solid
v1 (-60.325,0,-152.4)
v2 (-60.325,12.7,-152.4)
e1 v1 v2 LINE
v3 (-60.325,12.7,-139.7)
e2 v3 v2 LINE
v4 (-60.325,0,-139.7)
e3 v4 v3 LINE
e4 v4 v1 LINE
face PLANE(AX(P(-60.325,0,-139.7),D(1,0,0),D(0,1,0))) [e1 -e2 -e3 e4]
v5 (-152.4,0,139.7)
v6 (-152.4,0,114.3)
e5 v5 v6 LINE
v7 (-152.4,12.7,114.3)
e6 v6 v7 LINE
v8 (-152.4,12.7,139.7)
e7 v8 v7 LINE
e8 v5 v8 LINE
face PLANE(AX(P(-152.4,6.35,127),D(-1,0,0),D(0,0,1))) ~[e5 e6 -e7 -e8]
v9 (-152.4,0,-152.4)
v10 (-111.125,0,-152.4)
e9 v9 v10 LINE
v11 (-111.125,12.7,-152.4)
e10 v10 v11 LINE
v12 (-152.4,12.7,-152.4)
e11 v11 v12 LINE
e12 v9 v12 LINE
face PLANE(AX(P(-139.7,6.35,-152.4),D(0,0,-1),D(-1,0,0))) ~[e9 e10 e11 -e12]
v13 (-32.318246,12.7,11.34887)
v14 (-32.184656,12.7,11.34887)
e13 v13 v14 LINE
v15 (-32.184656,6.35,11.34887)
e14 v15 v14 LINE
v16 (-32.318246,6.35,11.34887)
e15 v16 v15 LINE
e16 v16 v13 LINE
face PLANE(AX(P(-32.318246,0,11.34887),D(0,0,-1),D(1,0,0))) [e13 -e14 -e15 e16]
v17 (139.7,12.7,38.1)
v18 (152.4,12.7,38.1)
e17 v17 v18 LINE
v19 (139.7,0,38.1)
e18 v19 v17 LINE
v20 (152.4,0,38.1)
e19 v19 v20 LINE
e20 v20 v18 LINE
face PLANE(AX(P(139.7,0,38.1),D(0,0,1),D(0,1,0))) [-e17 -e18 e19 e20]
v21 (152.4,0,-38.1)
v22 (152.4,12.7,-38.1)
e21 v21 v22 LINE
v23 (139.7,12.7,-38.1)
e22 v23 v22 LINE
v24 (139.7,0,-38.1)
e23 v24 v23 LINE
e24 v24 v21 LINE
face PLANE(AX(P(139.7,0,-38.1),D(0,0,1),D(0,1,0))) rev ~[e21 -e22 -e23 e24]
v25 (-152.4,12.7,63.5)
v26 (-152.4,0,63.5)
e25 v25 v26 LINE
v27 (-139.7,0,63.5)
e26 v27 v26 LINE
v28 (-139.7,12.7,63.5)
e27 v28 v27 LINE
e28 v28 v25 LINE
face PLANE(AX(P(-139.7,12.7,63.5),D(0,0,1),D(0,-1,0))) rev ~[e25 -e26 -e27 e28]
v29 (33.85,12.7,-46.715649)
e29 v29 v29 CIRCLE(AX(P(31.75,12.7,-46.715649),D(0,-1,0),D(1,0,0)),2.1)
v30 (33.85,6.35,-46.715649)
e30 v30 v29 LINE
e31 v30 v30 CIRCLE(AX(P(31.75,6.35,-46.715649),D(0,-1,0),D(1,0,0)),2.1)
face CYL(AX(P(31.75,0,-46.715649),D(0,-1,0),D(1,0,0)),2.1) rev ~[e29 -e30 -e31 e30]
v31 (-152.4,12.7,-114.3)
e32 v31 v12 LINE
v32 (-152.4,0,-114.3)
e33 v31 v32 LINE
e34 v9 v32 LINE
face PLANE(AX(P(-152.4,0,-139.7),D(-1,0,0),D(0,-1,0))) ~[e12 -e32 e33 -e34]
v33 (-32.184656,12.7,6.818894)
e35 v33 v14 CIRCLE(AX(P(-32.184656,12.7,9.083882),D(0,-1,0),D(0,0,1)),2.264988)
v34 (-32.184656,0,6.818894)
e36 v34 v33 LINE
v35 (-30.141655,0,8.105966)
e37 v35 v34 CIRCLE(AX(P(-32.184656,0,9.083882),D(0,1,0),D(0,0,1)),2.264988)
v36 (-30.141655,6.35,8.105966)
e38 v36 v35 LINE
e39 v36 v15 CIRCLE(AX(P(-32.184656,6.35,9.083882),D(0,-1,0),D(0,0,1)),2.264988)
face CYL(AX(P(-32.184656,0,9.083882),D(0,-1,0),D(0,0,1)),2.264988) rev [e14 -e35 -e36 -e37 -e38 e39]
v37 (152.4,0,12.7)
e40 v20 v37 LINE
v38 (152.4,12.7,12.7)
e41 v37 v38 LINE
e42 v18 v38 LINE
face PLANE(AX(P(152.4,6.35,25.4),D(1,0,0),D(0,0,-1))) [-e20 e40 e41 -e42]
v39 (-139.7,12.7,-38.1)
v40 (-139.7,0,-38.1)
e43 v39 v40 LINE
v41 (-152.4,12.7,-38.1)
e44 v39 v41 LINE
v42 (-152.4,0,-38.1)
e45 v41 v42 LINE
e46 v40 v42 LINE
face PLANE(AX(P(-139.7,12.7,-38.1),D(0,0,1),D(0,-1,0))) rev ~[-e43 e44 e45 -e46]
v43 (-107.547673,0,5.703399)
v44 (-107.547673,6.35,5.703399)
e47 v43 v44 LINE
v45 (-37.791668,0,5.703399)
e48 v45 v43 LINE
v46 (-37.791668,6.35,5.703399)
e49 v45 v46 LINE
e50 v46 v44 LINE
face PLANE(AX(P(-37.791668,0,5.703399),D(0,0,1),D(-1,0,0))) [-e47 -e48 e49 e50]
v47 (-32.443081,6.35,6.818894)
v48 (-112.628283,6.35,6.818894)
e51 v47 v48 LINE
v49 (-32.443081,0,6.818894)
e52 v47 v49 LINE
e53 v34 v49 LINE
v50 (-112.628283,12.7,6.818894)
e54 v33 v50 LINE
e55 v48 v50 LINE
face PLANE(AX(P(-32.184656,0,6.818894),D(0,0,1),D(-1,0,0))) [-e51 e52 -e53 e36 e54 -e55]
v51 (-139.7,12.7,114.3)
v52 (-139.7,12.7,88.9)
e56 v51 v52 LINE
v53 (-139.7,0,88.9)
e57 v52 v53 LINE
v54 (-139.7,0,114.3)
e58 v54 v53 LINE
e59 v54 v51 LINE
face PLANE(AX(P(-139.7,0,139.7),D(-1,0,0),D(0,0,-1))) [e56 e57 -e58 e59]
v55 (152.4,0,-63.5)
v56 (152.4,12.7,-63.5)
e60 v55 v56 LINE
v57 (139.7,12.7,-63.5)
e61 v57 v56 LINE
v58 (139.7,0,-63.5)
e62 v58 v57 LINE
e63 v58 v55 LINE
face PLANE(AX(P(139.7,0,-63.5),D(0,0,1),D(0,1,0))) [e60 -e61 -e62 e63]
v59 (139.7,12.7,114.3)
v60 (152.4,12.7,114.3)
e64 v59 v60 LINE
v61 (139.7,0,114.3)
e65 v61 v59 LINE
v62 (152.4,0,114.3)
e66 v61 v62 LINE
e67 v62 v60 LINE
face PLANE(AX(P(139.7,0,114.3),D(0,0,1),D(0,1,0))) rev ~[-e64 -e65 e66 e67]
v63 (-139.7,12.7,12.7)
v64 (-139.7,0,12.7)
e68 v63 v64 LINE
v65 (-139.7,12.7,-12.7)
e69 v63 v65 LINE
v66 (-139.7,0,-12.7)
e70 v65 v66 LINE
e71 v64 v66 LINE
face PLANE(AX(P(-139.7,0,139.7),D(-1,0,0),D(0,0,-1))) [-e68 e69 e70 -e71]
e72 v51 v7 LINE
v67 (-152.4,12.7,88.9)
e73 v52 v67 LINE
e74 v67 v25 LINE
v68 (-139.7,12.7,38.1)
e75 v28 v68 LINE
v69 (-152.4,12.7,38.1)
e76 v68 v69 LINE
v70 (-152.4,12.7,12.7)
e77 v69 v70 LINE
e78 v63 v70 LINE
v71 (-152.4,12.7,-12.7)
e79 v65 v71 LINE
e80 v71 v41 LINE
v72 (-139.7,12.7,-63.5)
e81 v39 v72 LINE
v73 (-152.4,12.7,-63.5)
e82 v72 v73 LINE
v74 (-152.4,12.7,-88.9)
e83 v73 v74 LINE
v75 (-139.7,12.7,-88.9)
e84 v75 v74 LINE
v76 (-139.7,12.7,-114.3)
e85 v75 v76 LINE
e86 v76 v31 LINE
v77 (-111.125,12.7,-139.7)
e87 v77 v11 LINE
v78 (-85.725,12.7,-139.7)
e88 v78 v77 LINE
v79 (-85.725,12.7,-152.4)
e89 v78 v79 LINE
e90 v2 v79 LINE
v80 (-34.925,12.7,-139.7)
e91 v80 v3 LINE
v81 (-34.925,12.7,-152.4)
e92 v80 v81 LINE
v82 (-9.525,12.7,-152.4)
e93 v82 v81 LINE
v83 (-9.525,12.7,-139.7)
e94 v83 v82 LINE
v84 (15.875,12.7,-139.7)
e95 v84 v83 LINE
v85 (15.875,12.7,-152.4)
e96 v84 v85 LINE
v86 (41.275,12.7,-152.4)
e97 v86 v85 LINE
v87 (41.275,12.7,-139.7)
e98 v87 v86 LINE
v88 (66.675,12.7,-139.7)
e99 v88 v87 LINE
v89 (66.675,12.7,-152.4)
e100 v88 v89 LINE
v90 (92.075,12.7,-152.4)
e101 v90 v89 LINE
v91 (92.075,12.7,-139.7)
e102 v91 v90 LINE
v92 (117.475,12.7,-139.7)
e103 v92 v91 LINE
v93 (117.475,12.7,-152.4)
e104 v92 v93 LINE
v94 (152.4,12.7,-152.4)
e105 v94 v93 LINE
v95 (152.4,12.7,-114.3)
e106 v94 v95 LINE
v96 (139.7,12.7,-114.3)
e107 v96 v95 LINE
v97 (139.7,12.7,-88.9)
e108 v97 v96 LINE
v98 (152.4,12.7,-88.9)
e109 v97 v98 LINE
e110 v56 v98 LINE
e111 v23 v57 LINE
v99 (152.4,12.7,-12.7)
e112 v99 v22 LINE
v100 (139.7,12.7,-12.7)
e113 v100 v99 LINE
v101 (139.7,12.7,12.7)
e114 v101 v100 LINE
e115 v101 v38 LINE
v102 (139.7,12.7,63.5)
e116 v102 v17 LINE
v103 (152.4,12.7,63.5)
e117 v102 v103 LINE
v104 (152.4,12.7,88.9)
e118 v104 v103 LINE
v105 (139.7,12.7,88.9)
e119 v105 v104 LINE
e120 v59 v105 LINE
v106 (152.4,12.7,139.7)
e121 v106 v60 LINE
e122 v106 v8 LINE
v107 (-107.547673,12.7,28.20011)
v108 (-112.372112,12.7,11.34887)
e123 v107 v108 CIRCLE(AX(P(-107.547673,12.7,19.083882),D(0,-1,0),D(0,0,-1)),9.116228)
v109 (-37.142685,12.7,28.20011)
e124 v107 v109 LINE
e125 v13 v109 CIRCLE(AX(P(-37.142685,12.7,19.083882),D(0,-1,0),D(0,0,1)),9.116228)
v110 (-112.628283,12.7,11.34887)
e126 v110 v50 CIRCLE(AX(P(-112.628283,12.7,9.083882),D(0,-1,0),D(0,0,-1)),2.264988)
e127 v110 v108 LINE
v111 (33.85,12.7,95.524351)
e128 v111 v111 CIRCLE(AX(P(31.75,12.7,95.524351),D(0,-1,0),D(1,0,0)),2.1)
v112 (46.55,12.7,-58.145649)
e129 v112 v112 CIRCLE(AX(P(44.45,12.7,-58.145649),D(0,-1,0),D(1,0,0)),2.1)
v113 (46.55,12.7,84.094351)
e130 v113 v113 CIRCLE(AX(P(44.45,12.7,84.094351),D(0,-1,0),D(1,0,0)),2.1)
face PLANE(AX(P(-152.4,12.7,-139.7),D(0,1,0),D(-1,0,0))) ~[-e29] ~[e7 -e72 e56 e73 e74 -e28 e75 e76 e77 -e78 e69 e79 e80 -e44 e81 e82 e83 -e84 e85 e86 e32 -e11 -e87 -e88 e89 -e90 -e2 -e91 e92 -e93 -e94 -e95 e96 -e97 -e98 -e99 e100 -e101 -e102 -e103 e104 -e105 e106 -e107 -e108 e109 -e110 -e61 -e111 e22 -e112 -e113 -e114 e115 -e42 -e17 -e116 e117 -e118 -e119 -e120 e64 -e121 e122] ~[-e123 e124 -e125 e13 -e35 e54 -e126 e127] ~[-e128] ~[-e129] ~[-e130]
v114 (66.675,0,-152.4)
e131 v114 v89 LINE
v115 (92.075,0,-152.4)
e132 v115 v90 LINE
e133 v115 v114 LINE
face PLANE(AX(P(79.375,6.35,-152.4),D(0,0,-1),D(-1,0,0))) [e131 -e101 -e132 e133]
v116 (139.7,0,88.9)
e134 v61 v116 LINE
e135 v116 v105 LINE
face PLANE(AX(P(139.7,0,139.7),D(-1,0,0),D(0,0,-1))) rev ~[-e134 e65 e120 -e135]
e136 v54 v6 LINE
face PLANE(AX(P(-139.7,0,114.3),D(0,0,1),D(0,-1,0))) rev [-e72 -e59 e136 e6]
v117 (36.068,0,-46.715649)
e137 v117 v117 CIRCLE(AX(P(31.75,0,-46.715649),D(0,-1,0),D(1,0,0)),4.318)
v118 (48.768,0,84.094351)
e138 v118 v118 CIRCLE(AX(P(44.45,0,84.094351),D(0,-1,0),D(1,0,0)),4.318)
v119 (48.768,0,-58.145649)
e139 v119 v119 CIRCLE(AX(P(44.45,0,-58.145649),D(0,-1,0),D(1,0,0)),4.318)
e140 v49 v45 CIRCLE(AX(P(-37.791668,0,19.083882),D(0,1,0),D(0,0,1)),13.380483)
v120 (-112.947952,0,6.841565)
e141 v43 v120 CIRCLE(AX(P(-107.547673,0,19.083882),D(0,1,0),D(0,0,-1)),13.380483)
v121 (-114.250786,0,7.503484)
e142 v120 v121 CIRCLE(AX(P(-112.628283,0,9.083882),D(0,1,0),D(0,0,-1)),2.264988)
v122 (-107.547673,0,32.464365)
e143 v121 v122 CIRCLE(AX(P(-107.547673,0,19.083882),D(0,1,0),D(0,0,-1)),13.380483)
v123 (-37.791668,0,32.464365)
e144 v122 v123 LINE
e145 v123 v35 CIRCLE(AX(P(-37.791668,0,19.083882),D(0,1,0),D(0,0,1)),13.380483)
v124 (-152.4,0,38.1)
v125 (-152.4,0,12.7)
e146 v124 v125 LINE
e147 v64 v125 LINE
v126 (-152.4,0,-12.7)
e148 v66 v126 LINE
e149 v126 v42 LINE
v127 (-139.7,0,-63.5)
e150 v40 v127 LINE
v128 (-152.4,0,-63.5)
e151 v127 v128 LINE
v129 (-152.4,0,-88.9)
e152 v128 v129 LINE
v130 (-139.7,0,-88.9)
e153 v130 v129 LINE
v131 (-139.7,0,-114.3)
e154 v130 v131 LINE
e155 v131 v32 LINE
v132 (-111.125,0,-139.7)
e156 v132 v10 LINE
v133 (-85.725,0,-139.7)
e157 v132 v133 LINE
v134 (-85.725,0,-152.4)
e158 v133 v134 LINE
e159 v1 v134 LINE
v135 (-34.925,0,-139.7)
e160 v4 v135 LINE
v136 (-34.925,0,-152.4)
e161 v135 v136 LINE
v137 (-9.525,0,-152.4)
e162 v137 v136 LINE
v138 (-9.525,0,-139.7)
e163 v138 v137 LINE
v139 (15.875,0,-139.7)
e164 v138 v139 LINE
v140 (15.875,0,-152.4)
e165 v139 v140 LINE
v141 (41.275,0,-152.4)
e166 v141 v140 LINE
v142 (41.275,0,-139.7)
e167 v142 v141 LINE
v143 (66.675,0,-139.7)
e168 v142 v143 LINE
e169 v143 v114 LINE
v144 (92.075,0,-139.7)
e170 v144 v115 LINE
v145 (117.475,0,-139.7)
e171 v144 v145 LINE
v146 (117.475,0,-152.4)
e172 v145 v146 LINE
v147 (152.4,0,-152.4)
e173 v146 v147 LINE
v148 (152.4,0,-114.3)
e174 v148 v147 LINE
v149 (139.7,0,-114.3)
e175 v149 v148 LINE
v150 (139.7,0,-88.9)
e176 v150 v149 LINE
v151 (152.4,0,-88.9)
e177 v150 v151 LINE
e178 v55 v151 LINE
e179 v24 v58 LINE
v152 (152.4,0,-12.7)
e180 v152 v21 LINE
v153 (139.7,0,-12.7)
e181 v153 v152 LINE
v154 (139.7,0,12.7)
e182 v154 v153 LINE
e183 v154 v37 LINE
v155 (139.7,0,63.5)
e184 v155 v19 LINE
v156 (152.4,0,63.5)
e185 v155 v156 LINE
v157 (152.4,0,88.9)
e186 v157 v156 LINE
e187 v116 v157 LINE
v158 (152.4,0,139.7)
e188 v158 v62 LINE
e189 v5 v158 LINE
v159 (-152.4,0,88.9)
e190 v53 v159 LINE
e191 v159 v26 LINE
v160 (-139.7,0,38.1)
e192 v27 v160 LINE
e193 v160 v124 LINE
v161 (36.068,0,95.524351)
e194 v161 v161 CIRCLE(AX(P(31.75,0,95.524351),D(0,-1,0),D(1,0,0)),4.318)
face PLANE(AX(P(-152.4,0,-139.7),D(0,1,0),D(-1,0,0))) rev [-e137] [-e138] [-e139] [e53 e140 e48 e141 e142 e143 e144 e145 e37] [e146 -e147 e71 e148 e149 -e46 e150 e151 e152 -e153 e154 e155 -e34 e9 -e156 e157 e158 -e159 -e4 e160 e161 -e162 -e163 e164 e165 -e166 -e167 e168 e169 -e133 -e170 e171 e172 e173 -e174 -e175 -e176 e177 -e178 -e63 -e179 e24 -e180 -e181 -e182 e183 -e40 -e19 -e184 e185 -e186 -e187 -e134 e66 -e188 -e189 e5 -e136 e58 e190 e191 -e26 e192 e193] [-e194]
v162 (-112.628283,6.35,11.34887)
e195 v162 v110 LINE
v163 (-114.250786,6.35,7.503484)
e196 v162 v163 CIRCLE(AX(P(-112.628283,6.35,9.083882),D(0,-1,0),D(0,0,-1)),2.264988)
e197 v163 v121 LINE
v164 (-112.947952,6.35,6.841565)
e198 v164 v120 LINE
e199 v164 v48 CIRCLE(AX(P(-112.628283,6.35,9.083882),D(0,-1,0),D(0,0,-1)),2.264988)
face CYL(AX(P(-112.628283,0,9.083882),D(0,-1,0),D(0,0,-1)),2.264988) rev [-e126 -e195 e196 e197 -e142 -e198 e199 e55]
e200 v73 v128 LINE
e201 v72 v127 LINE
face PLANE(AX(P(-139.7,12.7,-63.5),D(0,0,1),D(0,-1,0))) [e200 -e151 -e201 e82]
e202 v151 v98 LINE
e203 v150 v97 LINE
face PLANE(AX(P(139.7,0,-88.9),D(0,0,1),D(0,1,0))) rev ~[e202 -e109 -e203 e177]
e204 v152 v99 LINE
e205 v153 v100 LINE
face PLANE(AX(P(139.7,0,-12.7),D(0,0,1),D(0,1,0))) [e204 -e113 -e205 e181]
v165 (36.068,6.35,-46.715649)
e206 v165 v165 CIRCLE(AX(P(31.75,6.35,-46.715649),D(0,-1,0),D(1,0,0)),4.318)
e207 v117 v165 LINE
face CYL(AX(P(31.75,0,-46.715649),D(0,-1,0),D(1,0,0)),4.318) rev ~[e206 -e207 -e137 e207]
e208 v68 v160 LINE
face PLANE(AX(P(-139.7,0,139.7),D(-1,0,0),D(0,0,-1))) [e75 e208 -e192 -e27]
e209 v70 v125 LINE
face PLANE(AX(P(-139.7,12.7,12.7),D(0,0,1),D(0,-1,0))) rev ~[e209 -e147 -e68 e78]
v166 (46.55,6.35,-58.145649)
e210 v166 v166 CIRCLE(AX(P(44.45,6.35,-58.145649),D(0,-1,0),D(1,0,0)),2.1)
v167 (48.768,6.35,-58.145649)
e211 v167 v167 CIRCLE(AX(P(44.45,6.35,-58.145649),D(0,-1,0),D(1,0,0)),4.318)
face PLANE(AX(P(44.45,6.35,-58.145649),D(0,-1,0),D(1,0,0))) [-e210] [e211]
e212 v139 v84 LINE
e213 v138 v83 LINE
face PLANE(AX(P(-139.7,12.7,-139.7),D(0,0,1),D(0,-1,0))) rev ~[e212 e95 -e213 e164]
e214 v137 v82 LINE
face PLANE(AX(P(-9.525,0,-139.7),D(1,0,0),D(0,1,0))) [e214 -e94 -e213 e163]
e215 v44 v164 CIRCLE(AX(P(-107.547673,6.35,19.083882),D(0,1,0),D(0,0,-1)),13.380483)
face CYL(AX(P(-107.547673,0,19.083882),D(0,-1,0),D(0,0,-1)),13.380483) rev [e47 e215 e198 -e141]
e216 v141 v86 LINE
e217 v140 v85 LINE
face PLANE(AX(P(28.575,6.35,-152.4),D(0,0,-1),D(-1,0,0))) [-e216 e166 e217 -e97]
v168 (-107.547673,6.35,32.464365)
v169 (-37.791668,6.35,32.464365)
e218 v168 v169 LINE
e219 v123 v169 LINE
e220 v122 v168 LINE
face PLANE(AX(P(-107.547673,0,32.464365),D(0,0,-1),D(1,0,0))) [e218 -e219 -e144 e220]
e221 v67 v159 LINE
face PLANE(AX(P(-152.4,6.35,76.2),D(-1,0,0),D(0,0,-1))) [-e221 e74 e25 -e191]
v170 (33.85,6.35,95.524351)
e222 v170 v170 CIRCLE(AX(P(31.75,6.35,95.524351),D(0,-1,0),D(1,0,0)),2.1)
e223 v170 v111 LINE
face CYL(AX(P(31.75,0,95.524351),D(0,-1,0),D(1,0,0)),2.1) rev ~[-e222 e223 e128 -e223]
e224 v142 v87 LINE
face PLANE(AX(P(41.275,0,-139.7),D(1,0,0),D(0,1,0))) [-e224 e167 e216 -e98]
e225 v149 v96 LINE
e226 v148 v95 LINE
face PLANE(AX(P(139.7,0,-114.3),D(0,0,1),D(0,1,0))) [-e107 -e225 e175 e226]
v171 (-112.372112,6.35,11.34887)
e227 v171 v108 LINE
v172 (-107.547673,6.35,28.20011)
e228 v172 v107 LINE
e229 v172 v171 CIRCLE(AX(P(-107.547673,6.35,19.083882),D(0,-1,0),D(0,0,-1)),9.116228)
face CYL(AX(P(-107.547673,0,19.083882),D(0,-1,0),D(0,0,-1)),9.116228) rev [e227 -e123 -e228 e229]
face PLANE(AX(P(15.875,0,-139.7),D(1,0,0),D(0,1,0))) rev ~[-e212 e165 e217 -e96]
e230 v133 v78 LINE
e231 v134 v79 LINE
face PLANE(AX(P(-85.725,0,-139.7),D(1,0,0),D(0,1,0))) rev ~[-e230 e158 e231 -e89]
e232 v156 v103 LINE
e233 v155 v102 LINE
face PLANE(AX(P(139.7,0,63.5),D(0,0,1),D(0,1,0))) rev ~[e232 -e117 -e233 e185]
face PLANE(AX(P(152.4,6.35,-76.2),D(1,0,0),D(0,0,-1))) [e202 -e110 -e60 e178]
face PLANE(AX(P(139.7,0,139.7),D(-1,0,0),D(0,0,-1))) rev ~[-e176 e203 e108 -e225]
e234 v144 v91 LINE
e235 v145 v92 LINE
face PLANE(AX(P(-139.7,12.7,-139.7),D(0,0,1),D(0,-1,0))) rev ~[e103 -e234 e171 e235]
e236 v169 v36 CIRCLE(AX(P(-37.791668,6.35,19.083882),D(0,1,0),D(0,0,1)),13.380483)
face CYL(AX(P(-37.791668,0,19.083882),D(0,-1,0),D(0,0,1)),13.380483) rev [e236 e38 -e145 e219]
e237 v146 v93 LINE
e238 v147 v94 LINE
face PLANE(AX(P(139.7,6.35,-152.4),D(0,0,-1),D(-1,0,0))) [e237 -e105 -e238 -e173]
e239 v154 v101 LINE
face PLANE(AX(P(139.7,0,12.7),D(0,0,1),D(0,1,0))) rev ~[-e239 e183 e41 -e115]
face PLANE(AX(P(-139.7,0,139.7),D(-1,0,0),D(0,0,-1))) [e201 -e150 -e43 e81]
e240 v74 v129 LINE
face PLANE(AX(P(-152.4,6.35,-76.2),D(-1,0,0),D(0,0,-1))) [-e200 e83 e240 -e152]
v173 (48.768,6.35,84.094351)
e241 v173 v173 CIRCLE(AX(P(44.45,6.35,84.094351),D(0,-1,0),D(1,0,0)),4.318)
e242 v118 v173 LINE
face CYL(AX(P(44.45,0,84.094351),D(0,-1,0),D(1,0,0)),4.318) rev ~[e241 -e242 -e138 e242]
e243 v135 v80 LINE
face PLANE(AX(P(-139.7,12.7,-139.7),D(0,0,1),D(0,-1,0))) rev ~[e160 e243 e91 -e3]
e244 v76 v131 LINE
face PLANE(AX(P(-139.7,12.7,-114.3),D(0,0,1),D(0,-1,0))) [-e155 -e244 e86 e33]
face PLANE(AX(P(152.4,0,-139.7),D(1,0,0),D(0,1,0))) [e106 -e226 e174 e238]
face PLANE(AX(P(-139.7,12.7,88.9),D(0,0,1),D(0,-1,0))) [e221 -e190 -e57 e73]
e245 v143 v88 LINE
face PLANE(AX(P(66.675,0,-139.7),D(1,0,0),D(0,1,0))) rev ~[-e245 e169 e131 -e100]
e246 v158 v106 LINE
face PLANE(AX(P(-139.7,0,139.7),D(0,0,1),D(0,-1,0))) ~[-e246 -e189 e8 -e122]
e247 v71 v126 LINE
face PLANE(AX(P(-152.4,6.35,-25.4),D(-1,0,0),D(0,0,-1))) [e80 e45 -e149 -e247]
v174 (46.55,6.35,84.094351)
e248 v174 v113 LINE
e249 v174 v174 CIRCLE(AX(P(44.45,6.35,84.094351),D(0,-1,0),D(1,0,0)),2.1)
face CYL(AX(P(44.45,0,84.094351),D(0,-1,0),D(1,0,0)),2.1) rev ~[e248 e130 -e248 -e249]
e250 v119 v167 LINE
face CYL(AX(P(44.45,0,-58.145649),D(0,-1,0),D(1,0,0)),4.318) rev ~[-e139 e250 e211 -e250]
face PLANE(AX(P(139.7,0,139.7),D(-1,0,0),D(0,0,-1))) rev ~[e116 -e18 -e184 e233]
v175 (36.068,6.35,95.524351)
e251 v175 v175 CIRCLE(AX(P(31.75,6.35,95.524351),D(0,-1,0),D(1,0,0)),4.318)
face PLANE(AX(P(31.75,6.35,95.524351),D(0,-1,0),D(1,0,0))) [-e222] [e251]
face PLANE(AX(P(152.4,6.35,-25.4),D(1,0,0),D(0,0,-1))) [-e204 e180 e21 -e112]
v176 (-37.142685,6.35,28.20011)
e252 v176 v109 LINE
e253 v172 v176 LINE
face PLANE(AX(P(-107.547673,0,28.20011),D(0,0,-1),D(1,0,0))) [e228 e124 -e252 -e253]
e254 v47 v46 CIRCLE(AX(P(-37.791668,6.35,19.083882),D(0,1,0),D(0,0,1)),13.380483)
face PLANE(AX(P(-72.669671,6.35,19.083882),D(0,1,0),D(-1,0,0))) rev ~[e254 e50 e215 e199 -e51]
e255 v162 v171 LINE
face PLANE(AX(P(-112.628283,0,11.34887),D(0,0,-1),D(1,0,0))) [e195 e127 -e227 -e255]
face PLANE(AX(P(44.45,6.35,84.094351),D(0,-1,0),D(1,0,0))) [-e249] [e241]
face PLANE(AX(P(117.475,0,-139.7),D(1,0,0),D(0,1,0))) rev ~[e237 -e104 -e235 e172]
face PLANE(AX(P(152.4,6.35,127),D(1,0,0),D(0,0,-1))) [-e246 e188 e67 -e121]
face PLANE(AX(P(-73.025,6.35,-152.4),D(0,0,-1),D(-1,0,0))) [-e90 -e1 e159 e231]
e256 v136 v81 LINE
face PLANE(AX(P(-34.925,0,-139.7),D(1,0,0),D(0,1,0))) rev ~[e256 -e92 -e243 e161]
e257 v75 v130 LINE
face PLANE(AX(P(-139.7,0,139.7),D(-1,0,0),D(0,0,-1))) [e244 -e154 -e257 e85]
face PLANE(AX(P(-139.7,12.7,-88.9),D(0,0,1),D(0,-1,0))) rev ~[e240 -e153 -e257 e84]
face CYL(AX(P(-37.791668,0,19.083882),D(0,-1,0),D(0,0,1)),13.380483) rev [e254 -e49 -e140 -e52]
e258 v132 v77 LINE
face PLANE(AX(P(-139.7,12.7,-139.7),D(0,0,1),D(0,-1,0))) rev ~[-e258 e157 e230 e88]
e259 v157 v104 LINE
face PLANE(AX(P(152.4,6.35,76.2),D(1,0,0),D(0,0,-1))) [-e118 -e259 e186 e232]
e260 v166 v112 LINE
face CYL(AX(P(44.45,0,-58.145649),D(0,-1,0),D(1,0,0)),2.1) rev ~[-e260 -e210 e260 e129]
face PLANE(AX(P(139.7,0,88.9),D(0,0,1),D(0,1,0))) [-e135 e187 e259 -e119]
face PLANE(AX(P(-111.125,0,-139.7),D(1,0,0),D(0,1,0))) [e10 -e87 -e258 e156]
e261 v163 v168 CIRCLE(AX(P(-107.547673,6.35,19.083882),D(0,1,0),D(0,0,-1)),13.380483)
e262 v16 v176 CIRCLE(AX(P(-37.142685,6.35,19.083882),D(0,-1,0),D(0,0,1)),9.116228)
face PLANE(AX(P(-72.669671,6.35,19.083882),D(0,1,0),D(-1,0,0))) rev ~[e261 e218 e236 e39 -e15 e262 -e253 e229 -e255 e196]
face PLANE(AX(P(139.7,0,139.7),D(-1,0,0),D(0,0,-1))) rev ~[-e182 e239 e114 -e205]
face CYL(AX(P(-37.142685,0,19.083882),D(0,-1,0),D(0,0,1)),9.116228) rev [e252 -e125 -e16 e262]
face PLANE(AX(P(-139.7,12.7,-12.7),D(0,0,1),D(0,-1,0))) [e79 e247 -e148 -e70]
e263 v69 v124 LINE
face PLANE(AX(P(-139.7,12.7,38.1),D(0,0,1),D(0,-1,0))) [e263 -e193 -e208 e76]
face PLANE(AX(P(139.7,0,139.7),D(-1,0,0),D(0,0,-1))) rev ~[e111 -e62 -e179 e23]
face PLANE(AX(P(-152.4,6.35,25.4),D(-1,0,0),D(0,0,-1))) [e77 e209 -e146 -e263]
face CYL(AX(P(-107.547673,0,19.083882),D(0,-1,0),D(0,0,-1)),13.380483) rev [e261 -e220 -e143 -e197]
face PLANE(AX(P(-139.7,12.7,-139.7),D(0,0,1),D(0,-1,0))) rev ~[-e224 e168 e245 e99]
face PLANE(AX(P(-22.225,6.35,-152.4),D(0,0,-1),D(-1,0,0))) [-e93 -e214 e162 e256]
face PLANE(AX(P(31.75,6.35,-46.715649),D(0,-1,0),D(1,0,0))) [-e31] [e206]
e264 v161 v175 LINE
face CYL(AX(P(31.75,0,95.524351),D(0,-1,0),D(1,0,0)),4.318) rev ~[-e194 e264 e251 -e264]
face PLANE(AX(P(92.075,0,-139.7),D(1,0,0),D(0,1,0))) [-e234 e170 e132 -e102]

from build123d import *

# Parameters (mm, degrees)
SKETCH1_W               = 279.4
SKETCH1_H               = 279.4
BOSS_EXTRUDE1_DEPTH     = 12.7
SKETCH2_W               = 25.4
SKETCH2_H               = 12.7
BOSS_EXTRUDE2_DEPTH     = 12.7
LPATTERN1_COUNT         = 6
LPATTERN1_PITCH         = 50.8
MIRROR1_COPY_1_SKETCH_W = 25.4
MIRROR1_COPY_1_SKETCH_H = 12.7
MIRROR1_COPY_1_DEPTH    = 12.7
MIRROR1_COPY_2_SKETCH_W = 25.4
MIRROR1_COPY_2_SKETCH_H = 12.7
MIRROR1_COPY_2_DEPTH    = 12.7
MIRROR1_COPY_3_SKETCH_W = 25.4
MIRROR1_COPY_3_SKETCH_H = 12.7
MIRROR1_COPY_3_DEPTH    = 12.7
MIRROR1_COPY_4_SKETCH_W = 25.4
MIRROR1_COPY_4_SKETCH_H = 12.7
MIRROR1_COPY_4_DEPTH    = 12.7
MIRROR1_COPY_5_SKETCH_W = 25.4
MIRROR1_COPY_5_SKETCH_H = 12.7
MIRROR1_COPY_5_DEPTH    = 12.7
MIRROR1_COPY_6_SKETCH_W = 25.4
MIRROR1_COPY_6_SKETCH_H = 12.7
MIRROR1_COPY_6_DEPTH    = 12.7
SKETCH3_W               = 25.4
SKETCH3_H               = 12.7
BOSS_EXTRUDE3_DEPTH     = 12.7
LPATTERN2_COUNT         = 6
LPATTERN2_PITCH         = 50.8
SKETCH5_W               = 25.4
SKETCH5_H               = 12.7
BOSS_EXTRUDE4_DEPTH     = 12.7
SKETCH6_R               = 2.1
CUT_EXTRUDE1_DEPTH      = 216.9
SKETCH7_R               = 4.318
CUT_EXTRUDE2_DEPTH      = 6.35
SKETCH8_R               = 2.2225
CUT_EXTRUDE3_DEPTH      = 216.9
CUT_EXTRUDE5_DEPTH      = 216.9
CUT_EXTRUDE6_DEPTH      = 6.35


with BuildPart() as part:
    # Sketch1 → Boss-Extrude1 (new body)
    with BuildSketch(Plane(origin=(0, 0, 0), x_dir=(1, 0, 0), z_dir=(0, 1, 0))):
        Rectangle(SKETCH1_W, SKETCH1_H)
    extrude(amount=BOSS_EXTRUDE1_DEPTH)

    # Sketch2 → Boss-Extrude2 (add)
    with BuildSketch(Plane(origin=(139.7, 0, 0), x_dir=(0, 0, -1), z_dir=(1, 0, 0))):
        with Locations((-127, 6.35)):
            Rectangle(SKETCH2_W, SKETCH2_H)
    boss_extrude2 = extrude(amount=BOSS_EXTRUDE2_DEPTH)

    # LPattern1: Boss-Extrude2 ×6
    with Locations(*[(0, 0, -i * LPATTERN1_PITCH) for i in range(1, LPATTERN1_COUNT)]):
        add(boss_extrude2)

    # Mirror1 copy 1 sketch → Mirror1 copy 1 (add)
    with BuildSketch(Plane(origin=(-139.7, 0, -50.8), x_dir=(0, 0, -1), z_dir=(-1, 0, 0))):
        with Locations((-127, -6.35)):
            Rectangle(MIRROR1_COPY_1_SKETCH_W, MIRROR1_COPY_1_SKETCH_H)
    extrude(amount=MIRROR1_COPY_1_DEPTH)

    # Mirror1 copy 2 sketch → Mirror1 copy 2 (add)
    with BuildSketch(Plane(origin=(-139.7, 0, -101.6), x_dir=(0, 0, -1), z_dir=(-1, 0, 0))):
        with Locations((-127, -6.35)):
            Rectangle(MIRROR1_COPY_2_SKETCH_W, MIRROR1_COPY_2_SKETCH_H)
    extrude(amount=MIRROR1_COPY_2_DEPTH)

    # Mirror1 copy 3 sketch → Mirror1 copy 3 (add)
    with BuildSketch(Plane(origin=(-139.7, 0, -152.4), x_dir=(0, 0, -1), z_dir=(-1, 0, 0))):
        with Locations((-127, -6.35)):
            Rectangle(MIRROR1_COPY_3_SKETCH_W, MIRROR1_COPY_3_SKETCH_H)
    extrude(amount=MIRROR1_COPY_3_DEPTH)

    # Mirror1 copy 4 sketch → Mirror1 copy 4 (add)
    with BuildSketch(Plane(origin=(-139.7, 0, -203.2), x_dir=(0, 0, -1), z_dir=(-1, 0, 0))):
        with Locations((-127, -6.35)):
            Rectangle(MIRROR1_COPY_4_SKETCH_W, MIRROR1_COPY_4_SKETCH_H)
    extrude(amount=MIRROR1_COPY_4_DEPTH)

    # Mirror1 copy 5 sketch → Mirror1 copy 5 (add)
    with BuildSketch(Plane(origin=(-139.7, 0, -254), x_dir=(0, 0, -1), z_dir=(-1, 0, 0))):
        with Locations((-127, -6.35)):
            Rectangle(MIRROR1_COPY_5_SKETCH_W, MIRROR1_COPY_5_SKETCH_H)
    extrude(amount=MIRROR1_COPY_5_DEPTH)

    # Mirror1 copy 6 sketch → Mirror1 copy 6 (add)
    with BuildSketch(Plane(origin=(-139.7, 0, 0), x_dir=(0, 0, -1), z_dir=(-1, 0, 0))):
        with Locations((-127, -6.35)):
            Rectangle(MIRROR1_COPY_6_SKETCH_W, MIRROR1_COPY_6_SKETCH_H)
    extrude(amount=MIRROR1_COPY_6_DEPTH)

    # Sketch3 → Boss-Extrude3 (add)
    with BuildSketch(Plane(origin=(0, 0, -139.7), x_dir=(-1, 0, 0), z_dir=(0, 0, -1))):
        with Locations((-130.175, 6.35)):
            Rectangle(SKETCH3_W, SKETCH3_H)
    boss_extrude3 = extrude(amount=BOSS_EXTRUDE3_DEPTH)

    # LPattern2: Boss-Extrude3 ×6
    with Locations(*[(-i * LPATTERN2_PITCH, 0, 0) for i in range(1, LPATTERN2_COUNT)]):
        add(boss_extrude3)

    # Sketch5 → Boss-Extrude4 (add)
    with BuildSketch(Plane(origin=(0, 0, -139.7), x_dir=(-1, 0, 0), z_dir=(0, 0, -1))):
        with Locations((-139.7, 6.35)):
            Rectangle(SKETCH5_W, SKETCH5_H)
    boss_extrude4 = extrude(amount=BOSS_EXTRUDE4_DEPTH)

    # Mirror2: Boss-Extrude4 across plane
    add(boss_extrude4.mirror(Plane(origin=(0, 0, 0), x_dir=(0, 0, 1), z_dir=(1, 0, 0))))

    # Sketch6 → Cut-Extrude1 (cut, through all)
    with BuildSketch(Plane.XZ):
        with Locations((44.45, -58.145648771)):
            Circle(SKETCH6_R)
        with Locations((31.75, -46.715648771)):
            Circle(SKETCH6_R)
        with Locations((31.75, 95.524351229)):
            Circle(SKETCH6_R)
        with Locations((44.45, 84.094351229)):
            Circle(SKETCH6_R)
    extrude(amount=-CUT_EXTRUDE1_DEPTH, mode=Mode.SUBTRACT)

    # Sketch7 → Cut-Extrude2 (cut)
    with BuildSketch(Plane.XZ):
        with Locations((31.75, 95.524351229)):
            Circle(SKETCH7_R)
        with Locations((44.45, 84.094351229)):
            Circle(SKETCH7_R)
        with Locations((31.75, -46.715648771)):
            Circle(SKETCH7_R)
        with Locations((44.45, -58.145648771)):
            Circle(SKETCH7_R)
    extrude(amount=-CUT_EXTRUDE2_DEPTH, mode=Mode.SUBTRACT)

    # Sketch8 → Cut-Extrude3 (cut, through all)
    with BuildSketch(Plane(origin=(0, 12.7, 0), x_dir=(1, 0, 0), z_dir=(0, 1, 0))):
        with Locations((-49.920301731, -19.083881859)):
            Circle(SKETCH8_R)
        with Locations((-44.920301731, -9.083881859)):
            Circle(SKETCH8_R)
        with Locations((-94.920301731, -19.083881859)):
            Circle(SKETCH8_R)
        with Locations((-99.920301731, -9.083881859)):
            Circle(SKETCH8_R)
    extrude(amount=-CUT_EXTRUDE3_DEPTH, mode=Mode.SUBTRACT)

    # Sketch10 → Cut-Extrude5 (cut, through all)
    with BuildSketch(Plane.XZ):
        with BuildLine():
            Line((-112.628282809, 11.348870188), (-32.184656299, 11.348870188))
            ThreePointArc((-32.184656299, 11.348870188), (-29.919667971, 9.083881859), (-32.184656299, 6.81889353))
            Line((-32.184656299, 6.81889353), (-112.628282809, 6.81889353))
            ThreePointArc((-112.628282809, 6.81889353), (-114.893271138, 9.083881859), (-112.628282809, 11.348870188))
        make_face()
        with BuildLine():
            Line((-107.547672787, 28.200110176), (-37.142684893, 28.200110176))
            ThreePointArc((-37.142684893, 28.200110176), (-28.026456576, 19.083881859), (-37.142684893, 9.967653542))
            Line((-37.142684893, 9.967653542), (-107.547672787, 9.967653542))
            ThreePointArc((-107.547672787, 9.967653542), (-116.663901104, 19.083881859), (-107.547672787, 28.200110176))
        make_face()
    extrude(amount=-CUT_EXTRUDE5_DEPTH, mode=Mode.SUBTRACT)

    # Sketch12 → Cut-Extrude6 (cut)
    with BuildSketch(Plane.XZ):
        with BuildLine():
            Line((-107.547672787, 32.464365023), (-37.791668277, 32.464365023))
            ThreePointArc((-37.791668277, 32.464365023), (-24.411185114, 19.083881859), (-37.791668277, 5.703398696))
            Line((-37.791668277, 5.703398696), (-107.547672787, 5.703398696))
            ThreePointArc((-107.547672787, 5.703398696), (-120.92815595, 19.083881859), (-107.547672787, 32.464365023))
        make_face()
    extrude(amount=-CUT_EXTRUDE6_DEPTH, mode=Mode.SUBTRACT)


solid = part.part
